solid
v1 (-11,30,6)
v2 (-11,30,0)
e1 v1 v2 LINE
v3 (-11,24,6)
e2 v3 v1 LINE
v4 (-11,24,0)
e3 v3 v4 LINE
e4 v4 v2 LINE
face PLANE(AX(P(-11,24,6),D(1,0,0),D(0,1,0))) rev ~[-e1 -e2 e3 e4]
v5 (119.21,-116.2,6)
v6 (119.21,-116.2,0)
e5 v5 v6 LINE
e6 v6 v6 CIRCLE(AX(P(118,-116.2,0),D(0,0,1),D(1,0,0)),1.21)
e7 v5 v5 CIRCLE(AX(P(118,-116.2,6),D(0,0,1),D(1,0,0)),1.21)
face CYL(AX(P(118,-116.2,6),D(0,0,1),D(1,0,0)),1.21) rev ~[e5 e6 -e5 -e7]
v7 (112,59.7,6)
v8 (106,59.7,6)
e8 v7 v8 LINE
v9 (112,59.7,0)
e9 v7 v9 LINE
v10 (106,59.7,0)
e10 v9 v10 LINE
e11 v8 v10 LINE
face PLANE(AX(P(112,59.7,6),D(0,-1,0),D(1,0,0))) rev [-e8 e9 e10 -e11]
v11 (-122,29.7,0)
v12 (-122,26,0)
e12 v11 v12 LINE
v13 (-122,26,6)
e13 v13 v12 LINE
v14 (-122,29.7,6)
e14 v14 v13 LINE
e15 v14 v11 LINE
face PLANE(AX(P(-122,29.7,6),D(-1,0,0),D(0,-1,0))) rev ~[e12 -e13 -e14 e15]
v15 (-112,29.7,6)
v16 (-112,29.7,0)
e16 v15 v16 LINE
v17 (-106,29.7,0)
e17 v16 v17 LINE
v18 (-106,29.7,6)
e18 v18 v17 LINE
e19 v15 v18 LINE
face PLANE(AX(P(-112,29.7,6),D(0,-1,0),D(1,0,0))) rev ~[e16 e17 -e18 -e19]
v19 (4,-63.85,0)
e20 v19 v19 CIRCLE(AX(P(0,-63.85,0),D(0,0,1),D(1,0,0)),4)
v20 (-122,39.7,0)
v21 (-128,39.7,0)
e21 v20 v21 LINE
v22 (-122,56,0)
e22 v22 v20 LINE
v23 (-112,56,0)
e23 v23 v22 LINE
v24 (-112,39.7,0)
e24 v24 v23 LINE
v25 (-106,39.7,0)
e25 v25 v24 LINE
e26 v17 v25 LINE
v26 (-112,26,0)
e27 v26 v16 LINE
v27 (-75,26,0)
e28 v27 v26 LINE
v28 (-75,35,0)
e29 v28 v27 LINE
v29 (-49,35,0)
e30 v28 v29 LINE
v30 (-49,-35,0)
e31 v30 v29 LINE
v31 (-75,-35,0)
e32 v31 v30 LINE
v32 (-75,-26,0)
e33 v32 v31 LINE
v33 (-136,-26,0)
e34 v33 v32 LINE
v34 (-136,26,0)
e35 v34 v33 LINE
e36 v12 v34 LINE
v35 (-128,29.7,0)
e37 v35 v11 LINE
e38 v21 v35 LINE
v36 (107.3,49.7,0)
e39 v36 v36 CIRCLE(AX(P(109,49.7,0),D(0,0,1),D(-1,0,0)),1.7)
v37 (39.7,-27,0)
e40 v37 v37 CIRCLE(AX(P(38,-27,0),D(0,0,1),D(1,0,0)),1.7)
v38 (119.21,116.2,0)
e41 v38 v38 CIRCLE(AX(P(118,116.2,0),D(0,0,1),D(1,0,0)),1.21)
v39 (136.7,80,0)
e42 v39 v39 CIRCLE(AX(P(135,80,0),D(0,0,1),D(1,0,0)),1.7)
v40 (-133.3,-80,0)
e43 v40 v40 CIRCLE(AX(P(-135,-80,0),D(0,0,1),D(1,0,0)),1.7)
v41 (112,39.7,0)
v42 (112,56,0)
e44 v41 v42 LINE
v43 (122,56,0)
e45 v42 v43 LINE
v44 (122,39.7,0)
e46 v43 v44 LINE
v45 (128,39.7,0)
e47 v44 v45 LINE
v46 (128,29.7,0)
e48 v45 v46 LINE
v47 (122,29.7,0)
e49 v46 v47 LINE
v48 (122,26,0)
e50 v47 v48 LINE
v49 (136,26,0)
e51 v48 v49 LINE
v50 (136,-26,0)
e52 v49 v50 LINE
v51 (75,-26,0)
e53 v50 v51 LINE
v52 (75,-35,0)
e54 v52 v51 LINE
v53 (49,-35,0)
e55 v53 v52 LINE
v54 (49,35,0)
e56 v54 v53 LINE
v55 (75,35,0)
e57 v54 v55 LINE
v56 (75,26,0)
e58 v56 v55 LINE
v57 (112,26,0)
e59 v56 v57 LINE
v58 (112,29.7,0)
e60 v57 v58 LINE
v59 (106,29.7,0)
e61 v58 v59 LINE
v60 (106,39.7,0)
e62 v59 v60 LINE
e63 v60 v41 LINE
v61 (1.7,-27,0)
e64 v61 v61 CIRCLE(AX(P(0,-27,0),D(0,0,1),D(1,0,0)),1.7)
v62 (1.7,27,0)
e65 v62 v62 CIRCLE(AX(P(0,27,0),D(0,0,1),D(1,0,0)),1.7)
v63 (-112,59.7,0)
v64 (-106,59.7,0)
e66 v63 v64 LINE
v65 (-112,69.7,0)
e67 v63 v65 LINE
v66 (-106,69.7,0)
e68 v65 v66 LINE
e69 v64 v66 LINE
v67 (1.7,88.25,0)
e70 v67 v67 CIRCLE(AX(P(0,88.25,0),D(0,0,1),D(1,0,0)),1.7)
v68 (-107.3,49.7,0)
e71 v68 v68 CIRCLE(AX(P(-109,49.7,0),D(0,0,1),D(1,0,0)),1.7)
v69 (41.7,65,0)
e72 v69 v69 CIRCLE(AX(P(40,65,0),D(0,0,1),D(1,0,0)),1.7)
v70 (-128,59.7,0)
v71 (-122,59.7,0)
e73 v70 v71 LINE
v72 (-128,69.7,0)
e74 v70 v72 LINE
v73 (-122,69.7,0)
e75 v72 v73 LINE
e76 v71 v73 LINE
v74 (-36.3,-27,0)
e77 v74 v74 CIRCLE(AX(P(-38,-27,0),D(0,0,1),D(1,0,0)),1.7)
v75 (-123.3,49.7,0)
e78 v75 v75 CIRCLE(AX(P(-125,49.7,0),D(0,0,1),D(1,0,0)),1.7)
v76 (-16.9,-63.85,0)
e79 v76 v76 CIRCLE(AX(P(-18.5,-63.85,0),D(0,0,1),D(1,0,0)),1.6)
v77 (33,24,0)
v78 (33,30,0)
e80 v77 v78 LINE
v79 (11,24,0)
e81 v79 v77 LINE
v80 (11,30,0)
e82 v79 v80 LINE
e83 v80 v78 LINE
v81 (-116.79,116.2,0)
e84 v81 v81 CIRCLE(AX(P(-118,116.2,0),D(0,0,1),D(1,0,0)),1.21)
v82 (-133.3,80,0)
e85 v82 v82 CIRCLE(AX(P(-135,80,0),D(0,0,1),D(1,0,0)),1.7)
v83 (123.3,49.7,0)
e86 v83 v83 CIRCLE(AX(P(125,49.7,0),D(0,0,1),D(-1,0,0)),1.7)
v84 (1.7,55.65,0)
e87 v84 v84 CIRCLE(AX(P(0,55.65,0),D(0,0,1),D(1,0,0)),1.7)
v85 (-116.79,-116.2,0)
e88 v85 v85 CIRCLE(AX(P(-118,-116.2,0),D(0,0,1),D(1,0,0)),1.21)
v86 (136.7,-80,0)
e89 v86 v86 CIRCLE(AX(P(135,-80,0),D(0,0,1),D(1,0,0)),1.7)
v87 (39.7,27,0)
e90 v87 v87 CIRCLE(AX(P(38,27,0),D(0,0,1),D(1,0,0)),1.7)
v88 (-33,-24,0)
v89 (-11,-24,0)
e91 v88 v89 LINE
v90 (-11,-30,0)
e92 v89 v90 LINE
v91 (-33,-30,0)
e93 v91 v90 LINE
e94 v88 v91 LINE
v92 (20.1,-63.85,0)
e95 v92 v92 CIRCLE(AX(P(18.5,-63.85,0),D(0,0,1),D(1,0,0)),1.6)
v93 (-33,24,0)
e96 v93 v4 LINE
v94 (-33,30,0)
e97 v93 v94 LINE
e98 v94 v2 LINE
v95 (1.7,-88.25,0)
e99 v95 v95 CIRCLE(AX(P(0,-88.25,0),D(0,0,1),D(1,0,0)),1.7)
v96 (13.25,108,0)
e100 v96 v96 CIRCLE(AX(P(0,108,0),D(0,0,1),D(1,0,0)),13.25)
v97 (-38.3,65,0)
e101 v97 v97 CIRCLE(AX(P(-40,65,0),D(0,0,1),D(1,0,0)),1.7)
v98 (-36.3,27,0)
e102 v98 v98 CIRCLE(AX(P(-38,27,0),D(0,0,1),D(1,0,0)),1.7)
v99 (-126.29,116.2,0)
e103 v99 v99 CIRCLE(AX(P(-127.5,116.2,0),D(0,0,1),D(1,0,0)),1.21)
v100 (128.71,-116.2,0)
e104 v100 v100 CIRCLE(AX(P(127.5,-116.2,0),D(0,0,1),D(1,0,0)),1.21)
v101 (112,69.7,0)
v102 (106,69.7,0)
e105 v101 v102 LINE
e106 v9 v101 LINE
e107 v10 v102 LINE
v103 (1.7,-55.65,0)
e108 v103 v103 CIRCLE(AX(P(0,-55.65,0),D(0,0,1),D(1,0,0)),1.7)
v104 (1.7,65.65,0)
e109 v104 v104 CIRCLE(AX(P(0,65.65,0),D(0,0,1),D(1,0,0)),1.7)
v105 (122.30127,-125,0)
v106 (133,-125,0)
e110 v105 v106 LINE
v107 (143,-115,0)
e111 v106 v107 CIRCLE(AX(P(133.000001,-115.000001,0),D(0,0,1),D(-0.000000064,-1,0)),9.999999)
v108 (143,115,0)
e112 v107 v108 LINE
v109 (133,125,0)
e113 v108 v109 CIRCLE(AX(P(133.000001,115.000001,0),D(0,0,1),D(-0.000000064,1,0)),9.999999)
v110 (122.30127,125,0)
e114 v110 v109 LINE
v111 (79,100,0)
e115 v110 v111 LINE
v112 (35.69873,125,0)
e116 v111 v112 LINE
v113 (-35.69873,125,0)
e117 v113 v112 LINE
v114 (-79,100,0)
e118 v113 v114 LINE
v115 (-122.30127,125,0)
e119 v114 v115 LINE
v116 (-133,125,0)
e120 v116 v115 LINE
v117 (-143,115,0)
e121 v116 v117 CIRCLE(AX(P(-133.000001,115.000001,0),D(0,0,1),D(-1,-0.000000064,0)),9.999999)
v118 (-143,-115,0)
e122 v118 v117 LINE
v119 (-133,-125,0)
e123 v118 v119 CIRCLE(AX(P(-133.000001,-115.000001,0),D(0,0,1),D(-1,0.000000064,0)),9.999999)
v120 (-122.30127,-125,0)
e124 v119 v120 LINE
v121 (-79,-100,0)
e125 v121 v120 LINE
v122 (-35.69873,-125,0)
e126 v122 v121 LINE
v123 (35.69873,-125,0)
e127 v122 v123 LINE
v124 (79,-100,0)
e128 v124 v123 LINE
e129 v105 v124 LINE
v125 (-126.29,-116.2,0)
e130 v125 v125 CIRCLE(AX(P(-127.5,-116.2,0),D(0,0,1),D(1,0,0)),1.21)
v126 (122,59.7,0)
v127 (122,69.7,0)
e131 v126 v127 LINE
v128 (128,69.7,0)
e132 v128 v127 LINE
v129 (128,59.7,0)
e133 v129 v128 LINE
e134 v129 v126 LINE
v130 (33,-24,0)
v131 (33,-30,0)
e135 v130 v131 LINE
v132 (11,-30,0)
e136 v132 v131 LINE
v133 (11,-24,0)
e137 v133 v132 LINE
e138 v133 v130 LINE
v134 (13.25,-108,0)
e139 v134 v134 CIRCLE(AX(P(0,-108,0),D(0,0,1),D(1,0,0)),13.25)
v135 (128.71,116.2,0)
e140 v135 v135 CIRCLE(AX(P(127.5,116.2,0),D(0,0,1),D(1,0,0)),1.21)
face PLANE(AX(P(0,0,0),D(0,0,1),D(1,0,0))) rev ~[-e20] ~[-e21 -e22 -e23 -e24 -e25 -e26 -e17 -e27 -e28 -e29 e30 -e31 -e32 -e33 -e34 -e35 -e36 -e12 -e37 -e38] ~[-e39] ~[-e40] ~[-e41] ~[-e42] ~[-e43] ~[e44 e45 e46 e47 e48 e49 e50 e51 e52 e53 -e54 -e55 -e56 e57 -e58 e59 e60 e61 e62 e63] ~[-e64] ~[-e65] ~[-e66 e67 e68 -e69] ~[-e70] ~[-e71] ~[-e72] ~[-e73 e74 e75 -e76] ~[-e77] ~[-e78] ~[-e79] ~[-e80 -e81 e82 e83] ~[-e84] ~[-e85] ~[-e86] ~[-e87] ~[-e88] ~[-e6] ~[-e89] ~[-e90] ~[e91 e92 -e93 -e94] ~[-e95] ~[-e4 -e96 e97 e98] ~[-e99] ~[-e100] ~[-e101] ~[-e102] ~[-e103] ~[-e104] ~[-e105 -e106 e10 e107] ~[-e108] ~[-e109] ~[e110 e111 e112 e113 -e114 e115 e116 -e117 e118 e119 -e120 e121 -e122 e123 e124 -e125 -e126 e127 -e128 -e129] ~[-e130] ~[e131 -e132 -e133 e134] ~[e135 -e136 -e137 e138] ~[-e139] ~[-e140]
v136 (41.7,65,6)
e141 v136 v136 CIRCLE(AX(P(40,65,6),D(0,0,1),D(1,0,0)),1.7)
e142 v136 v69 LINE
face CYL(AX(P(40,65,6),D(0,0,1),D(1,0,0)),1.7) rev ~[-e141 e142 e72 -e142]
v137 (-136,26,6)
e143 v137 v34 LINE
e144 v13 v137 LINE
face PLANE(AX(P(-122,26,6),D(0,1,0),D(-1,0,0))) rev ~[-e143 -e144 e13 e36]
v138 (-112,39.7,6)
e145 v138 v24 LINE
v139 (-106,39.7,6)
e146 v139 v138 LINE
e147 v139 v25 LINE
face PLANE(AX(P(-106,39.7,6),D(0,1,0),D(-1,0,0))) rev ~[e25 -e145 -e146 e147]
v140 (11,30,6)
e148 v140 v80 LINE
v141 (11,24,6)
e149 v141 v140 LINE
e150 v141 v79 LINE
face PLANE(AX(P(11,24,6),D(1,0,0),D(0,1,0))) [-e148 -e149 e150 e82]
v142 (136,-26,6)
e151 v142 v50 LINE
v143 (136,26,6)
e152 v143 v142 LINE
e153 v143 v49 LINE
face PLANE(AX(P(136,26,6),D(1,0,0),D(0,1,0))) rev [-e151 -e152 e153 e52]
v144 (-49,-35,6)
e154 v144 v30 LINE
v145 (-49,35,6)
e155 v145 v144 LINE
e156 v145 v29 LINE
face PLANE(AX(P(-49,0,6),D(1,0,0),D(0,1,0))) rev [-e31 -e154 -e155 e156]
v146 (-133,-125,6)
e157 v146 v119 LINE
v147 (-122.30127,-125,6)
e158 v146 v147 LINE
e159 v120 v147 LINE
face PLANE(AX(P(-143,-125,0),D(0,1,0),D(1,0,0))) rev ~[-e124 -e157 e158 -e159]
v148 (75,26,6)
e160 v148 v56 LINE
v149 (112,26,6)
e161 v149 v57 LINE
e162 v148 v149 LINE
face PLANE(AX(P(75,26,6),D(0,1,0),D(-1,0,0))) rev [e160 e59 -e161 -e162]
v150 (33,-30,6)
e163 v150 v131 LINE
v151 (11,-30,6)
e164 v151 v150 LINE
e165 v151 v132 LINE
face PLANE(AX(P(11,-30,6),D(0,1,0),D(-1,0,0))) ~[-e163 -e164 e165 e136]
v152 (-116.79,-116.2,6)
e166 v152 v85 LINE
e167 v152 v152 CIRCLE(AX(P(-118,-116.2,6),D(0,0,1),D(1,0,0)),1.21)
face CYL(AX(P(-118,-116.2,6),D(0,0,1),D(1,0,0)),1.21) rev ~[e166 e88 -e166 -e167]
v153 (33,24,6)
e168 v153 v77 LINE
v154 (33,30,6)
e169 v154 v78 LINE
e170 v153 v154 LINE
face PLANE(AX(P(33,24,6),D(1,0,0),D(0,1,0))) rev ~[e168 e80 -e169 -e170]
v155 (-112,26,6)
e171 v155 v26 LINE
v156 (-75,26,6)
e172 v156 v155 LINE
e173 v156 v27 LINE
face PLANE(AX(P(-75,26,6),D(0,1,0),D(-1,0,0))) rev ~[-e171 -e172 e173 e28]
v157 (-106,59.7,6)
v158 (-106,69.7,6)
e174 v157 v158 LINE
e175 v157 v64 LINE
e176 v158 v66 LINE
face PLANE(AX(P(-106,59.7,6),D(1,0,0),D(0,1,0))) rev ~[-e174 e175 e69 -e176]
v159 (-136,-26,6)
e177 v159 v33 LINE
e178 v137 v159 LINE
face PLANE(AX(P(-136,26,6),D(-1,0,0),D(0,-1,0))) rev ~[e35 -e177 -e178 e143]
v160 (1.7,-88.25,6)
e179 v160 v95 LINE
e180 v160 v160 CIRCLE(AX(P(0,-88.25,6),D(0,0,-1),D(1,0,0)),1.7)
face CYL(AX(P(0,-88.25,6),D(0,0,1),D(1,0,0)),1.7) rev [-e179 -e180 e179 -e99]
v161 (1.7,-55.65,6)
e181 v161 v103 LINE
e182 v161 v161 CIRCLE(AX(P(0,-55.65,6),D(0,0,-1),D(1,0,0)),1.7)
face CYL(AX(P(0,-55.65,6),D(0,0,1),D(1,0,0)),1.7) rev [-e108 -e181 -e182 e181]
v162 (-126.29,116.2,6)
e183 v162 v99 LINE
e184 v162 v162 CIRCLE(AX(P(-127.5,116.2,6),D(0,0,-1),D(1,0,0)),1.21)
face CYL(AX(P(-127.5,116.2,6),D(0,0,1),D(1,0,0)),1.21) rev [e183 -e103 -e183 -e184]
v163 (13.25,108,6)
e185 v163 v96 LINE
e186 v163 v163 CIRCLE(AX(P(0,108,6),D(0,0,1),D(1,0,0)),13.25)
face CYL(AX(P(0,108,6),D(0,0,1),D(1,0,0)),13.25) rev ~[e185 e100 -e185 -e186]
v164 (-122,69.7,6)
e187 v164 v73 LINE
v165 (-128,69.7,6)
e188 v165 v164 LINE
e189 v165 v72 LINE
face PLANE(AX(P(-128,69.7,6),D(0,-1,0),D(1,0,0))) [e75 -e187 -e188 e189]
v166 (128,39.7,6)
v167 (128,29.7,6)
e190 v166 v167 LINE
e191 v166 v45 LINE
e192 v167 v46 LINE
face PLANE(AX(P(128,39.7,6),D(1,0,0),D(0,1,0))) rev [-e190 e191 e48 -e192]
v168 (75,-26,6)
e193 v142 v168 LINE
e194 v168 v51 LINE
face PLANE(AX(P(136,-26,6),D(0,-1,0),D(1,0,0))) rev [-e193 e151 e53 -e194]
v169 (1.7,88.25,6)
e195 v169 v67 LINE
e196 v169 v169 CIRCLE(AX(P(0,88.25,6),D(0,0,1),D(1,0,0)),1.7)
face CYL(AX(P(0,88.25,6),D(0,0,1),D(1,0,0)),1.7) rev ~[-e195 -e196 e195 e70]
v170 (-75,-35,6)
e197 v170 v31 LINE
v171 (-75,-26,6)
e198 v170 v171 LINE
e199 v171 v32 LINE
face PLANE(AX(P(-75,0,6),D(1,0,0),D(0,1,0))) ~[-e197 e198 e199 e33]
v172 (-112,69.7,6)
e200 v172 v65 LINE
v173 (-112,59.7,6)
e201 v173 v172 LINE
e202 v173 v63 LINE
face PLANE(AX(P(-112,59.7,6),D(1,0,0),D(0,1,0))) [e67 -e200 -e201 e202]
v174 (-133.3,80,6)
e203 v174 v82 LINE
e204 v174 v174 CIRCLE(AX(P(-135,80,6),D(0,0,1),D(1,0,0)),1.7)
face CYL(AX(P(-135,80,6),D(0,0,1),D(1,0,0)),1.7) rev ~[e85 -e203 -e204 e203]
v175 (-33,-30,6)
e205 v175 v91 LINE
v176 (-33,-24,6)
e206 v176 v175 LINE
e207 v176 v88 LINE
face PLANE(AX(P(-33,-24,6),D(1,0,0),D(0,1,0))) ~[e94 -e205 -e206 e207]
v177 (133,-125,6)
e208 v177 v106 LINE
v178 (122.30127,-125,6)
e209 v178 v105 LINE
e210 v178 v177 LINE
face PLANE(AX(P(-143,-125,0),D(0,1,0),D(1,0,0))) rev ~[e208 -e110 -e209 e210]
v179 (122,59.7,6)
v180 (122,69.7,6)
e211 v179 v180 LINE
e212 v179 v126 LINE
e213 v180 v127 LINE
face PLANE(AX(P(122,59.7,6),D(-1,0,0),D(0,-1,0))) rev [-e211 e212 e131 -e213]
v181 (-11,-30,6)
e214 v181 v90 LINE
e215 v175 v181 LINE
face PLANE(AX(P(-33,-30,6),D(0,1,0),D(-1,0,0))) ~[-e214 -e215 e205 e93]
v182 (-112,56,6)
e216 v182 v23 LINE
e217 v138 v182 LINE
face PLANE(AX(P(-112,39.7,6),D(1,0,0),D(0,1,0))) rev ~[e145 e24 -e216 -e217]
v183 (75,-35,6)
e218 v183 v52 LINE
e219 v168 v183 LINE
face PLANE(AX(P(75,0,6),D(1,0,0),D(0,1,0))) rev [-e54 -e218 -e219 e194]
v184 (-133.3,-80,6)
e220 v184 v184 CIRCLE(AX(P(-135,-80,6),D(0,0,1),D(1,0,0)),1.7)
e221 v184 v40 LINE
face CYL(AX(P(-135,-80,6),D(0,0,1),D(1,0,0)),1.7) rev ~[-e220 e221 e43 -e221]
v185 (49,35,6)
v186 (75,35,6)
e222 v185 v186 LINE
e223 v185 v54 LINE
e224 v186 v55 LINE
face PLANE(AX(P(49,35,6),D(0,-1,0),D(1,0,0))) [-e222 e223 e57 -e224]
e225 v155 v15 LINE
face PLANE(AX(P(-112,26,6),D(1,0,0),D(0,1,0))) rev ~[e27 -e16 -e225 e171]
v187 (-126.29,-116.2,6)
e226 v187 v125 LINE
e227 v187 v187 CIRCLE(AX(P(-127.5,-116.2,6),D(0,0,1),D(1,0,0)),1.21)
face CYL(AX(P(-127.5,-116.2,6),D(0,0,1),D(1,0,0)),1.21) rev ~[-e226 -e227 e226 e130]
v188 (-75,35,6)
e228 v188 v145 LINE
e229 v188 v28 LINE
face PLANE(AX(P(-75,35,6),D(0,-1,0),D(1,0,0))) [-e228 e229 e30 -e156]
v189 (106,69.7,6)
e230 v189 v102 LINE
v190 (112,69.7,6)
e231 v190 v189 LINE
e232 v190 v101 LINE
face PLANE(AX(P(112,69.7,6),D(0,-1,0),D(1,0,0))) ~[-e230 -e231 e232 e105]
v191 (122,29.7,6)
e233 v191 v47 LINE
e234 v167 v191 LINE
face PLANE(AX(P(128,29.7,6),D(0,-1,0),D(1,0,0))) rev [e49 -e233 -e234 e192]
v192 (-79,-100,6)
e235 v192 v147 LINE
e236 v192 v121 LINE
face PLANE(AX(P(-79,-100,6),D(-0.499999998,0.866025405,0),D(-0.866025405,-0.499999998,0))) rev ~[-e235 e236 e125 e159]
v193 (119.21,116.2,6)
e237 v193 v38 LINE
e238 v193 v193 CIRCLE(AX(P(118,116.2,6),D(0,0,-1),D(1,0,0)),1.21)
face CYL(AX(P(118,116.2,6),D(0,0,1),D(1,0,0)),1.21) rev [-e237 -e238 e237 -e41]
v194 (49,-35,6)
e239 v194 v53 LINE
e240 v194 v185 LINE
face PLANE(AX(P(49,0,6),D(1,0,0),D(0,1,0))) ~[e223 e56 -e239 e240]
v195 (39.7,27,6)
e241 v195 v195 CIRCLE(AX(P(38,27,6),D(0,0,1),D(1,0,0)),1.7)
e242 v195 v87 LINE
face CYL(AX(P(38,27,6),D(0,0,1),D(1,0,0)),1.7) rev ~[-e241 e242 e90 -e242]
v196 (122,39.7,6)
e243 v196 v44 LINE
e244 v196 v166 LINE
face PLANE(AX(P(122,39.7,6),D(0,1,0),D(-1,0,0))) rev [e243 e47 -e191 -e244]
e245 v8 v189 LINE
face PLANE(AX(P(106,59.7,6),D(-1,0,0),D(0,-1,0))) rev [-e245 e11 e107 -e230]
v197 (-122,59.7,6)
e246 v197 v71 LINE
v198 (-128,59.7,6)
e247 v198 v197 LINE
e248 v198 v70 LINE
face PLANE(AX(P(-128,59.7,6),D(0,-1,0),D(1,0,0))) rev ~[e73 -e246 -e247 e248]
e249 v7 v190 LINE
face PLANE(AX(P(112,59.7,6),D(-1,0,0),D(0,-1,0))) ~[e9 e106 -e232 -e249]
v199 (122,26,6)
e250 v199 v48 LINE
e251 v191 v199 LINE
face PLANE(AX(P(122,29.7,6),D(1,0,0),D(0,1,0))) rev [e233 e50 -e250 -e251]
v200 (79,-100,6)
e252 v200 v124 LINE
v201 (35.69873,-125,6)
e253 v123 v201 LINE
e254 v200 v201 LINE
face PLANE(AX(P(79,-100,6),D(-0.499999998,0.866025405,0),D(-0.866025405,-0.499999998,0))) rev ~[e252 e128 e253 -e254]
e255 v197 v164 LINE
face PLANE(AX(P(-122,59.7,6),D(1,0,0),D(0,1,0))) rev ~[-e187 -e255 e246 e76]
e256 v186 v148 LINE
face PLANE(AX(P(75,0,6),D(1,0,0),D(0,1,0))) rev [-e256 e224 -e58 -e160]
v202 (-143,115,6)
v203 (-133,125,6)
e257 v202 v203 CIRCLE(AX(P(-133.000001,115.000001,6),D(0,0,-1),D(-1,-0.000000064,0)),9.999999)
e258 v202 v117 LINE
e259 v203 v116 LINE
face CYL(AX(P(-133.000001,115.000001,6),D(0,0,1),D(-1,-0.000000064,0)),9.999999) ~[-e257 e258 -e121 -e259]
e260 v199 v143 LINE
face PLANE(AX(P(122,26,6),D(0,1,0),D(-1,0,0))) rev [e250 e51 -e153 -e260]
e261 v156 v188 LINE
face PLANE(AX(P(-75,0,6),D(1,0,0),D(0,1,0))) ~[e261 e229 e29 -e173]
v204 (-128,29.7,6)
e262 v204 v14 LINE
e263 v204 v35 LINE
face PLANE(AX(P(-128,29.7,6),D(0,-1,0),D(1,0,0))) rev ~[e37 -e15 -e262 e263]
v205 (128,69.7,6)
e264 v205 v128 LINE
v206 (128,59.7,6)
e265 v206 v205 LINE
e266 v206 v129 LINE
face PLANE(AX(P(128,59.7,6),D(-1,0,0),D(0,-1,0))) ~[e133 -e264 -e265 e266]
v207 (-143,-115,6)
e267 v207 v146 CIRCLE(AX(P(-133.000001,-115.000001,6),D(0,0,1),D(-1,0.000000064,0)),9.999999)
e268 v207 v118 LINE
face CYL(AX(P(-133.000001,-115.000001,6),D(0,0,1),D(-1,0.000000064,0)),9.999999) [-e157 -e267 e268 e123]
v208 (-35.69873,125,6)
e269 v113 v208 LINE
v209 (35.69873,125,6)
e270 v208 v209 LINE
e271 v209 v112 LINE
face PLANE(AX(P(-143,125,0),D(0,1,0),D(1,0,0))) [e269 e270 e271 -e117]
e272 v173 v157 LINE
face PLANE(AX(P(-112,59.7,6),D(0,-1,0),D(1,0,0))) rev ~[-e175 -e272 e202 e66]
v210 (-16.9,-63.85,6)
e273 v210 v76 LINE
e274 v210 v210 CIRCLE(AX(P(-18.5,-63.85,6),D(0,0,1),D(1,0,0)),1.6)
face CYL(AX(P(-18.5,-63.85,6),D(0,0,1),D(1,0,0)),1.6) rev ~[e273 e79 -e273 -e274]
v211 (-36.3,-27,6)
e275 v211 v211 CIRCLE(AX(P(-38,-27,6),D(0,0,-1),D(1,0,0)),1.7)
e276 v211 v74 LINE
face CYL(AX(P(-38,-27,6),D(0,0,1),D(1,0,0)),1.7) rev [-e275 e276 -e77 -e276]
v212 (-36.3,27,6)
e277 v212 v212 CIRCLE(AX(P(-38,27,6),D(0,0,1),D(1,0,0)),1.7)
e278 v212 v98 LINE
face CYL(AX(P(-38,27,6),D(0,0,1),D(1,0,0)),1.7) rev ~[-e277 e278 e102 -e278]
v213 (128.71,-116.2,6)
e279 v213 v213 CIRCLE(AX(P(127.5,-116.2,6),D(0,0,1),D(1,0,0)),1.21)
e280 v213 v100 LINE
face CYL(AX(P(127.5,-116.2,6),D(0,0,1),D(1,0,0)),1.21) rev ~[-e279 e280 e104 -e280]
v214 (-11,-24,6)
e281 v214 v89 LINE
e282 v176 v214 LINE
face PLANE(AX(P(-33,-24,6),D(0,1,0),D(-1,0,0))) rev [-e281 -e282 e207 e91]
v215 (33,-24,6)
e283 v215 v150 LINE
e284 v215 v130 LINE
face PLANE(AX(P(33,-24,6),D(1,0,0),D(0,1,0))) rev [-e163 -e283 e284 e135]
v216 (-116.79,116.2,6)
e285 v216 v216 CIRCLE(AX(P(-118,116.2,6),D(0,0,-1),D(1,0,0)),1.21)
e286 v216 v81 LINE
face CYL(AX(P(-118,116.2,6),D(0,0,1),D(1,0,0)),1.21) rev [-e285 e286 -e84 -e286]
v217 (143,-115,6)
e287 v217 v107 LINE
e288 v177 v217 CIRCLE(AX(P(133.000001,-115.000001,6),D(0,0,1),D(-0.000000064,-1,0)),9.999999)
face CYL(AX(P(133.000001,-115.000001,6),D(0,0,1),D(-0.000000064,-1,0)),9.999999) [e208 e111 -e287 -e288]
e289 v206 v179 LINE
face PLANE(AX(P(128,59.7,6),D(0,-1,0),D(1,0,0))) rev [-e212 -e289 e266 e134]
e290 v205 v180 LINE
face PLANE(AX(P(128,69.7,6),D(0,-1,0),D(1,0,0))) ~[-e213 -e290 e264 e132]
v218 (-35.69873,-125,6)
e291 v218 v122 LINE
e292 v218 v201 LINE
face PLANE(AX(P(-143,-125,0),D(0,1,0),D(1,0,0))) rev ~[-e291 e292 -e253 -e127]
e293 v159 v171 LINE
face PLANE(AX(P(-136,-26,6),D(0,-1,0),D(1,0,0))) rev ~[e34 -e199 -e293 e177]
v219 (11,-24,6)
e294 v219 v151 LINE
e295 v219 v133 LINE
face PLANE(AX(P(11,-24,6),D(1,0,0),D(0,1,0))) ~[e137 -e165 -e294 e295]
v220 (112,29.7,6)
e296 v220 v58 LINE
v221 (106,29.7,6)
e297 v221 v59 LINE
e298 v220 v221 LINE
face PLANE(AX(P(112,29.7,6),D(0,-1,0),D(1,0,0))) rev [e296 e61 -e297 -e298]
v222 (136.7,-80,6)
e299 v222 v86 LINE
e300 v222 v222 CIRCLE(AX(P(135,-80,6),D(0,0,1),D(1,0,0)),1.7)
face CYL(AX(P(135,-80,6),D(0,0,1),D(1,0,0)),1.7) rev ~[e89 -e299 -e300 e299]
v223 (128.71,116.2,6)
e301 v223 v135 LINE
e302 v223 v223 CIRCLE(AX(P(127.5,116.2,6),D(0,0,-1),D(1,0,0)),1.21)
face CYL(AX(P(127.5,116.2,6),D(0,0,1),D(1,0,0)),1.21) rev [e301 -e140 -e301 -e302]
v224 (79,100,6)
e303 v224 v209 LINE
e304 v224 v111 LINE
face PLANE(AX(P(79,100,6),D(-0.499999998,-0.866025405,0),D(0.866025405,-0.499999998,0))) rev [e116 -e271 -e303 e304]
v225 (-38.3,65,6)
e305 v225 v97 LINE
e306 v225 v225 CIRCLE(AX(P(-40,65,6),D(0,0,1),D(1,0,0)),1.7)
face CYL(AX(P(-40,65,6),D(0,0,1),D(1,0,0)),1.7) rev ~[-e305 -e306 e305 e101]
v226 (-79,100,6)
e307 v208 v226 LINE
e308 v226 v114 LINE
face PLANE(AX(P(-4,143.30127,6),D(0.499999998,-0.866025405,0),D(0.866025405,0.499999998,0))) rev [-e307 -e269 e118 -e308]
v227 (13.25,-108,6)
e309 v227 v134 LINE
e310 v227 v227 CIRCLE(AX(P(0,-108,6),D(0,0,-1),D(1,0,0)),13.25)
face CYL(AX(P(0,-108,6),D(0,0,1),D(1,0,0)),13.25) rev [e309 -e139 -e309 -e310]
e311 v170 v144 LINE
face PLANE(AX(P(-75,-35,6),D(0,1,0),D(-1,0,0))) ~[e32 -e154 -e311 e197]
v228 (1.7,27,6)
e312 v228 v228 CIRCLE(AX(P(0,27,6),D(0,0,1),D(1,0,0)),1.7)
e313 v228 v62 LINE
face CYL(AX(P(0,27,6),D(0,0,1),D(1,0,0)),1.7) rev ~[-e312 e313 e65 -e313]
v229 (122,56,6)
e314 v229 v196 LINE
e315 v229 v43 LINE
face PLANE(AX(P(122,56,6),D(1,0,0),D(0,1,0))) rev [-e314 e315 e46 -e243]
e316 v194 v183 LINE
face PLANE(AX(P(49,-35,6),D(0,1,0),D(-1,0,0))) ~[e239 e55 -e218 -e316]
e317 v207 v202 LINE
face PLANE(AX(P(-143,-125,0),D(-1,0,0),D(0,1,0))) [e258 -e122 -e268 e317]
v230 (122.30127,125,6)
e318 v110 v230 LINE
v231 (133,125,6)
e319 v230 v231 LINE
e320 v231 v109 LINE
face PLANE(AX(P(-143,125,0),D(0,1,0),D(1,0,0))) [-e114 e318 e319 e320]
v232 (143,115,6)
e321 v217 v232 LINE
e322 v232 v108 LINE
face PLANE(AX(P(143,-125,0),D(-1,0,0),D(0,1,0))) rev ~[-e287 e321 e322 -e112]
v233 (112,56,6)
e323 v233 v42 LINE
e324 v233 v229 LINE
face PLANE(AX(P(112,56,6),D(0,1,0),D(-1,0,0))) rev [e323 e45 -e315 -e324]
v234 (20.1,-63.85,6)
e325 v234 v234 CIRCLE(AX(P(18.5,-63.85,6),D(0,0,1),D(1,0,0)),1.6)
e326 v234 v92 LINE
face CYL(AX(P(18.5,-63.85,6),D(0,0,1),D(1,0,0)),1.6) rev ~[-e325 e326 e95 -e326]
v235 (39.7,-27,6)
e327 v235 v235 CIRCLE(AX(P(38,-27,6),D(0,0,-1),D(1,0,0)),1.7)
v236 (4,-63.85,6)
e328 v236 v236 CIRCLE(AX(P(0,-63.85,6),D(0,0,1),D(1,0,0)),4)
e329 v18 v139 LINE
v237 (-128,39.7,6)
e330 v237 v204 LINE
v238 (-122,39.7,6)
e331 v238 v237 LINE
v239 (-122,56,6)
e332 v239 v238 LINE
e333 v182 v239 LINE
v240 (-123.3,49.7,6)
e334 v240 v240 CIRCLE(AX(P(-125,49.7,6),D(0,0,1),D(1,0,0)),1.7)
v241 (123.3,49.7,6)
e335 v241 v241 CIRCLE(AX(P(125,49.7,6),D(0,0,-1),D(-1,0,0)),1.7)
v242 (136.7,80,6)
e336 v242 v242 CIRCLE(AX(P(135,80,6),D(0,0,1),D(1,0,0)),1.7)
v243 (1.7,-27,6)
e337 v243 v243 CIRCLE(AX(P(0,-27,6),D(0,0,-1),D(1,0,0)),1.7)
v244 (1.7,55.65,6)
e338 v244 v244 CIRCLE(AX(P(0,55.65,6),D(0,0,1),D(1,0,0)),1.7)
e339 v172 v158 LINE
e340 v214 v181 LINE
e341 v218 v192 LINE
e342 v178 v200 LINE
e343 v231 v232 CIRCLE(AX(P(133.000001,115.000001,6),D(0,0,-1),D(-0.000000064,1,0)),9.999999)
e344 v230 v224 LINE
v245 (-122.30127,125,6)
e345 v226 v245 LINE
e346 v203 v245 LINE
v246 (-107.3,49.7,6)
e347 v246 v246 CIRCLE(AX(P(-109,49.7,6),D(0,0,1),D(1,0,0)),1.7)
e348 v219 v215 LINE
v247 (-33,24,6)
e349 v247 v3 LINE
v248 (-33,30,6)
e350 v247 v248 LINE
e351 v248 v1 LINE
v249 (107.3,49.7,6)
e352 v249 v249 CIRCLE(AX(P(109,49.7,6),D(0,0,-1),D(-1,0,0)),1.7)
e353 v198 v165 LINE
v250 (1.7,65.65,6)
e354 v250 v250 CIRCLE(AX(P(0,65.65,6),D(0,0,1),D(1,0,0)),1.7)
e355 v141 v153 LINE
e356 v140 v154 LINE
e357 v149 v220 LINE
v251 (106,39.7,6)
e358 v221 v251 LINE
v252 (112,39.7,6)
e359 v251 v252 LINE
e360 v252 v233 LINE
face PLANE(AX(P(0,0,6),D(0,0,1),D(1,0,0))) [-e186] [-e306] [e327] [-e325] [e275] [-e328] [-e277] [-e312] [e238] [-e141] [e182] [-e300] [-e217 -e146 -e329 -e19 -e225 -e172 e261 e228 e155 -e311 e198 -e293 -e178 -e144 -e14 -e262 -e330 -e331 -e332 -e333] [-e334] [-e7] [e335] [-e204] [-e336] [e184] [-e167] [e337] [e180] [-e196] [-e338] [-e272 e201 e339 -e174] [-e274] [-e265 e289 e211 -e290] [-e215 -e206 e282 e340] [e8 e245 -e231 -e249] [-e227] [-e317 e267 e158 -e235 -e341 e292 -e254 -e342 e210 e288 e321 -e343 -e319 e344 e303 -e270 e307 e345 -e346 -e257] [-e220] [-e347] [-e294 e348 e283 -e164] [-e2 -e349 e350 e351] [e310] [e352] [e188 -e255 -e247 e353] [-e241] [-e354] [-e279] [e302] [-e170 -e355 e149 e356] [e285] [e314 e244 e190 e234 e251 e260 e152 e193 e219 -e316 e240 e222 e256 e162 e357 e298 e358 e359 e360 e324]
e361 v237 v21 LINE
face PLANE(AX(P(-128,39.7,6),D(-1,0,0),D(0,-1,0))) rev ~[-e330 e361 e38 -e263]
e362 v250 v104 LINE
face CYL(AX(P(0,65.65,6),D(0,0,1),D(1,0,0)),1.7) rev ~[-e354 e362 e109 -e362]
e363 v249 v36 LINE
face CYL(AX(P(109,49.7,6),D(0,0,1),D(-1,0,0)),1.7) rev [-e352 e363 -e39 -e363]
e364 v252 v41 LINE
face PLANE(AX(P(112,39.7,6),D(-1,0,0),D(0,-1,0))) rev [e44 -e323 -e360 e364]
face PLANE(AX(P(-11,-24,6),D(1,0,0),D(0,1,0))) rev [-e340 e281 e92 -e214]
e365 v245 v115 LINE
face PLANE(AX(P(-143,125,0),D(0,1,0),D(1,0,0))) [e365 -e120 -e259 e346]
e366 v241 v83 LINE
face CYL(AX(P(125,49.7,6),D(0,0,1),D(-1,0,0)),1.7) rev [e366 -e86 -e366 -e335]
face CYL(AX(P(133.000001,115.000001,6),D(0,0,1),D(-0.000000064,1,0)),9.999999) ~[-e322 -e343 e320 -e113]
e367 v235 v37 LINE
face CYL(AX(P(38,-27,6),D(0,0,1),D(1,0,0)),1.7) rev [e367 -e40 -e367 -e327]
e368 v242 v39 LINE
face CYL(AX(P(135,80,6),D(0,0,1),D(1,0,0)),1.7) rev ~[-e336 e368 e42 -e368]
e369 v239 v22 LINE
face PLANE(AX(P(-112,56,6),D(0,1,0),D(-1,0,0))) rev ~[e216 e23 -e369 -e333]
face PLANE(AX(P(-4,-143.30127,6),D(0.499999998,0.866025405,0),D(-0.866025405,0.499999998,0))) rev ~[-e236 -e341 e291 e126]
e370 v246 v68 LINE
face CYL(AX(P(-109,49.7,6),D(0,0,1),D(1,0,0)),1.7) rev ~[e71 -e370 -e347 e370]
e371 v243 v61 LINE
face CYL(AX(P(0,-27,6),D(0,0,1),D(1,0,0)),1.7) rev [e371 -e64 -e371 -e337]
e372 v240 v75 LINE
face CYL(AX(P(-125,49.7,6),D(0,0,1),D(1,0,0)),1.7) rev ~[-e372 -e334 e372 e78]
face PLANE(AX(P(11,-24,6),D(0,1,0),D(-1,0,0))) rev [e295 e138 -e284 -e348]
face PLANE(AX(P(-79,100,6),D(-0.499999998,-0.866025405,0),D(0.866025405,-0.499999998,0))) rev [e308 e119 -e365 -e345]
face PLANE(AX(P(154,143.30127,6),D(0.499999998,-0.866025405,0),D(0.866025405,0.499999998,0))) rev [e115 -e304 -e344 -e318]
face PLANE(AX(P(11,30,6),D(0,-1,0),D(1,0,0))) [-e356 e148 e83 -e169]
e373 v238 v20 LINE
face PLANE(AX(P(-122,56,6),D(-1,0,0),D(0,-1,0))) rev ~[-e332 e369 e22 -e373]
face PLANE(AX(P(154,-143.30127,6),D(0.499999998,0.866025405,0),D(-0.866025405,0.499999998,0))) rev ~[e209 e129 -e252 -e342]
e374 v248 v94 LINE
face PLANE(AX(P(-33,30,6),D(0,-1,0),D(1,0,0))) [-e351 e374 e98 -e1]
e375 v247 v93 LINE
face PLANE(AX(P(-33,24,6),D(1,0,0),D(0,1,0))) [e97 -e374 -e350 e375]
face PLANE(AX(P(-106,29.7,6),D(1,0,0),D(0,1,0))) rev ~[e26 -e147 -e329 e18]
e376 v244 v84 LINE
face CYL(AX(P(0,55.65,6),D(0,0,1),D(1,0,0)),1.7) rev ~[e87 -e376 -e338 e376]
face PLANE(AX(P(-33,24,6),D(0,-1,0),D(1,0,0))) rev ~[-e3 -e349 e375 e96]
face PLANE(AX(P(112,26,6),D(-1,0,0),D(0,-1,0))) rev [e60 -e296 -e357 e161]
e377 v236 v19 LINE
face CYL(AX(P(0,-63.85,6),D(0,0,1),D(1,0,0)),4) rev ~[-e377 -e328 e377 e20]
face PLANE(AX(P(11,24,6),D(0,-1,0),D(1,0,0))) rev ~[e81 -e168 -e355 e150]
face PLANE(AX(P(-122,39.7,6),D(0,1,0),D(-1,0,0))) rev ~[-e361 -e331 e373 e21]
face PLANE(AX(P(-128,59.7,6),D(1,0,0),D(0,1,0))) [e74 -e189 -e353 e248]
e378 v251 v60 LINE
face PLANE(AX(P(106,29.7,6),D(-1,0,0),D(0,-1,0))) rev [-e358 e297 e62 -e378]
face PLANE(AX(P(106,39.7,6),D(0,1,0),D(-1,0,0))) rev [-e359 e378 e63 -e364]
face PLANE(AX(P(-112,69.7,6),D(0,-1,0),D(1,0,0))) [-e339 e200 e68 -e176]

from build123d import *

# Parameters (mm, degrees)
SKETCH_W        = 286
SKETCH_H        = 250
PAD_DEPTH       = 6
SKETCH001_R     = 1.7
SKETCH001_W     = 22
SKETCH001_H     = 6
SKETCH001_W_2   = 26
SKETCH001_H_2   = 35
POCKET_DEPTH    = 765.822032
SKETCH002_R     = 1.7
SKETCH002_W     = 6
SKETCH002_H     = 10
POCKET001_DEPTH = 765.822032
SKETCH003_R     = 1.7
POCKET002_DEPTH = 6.001
SKETCH004_R     = 13.25
SKETCH004_R_2   = 1.7
POCKET003_DEPTH = 765.822032
SKETCH005_R     = 1.7
POCKET004_DEPTH = 6.001
POCKET005_DEPTH = 765.822032
SKETCH007_R     = 1.21
HOLE_DEPTH      = 765.822032
POCKET006_DEPTH = 765.822032
SKETCH009_R     = 4
SKETCH009_R_2   = 1.6
POCKET007_DEPTH = 6.001


with BuildPart() as part:
    # Sketch → Pad (new body)
    with BuildSketch(Plane.XY):
        Rectangle(SKETCH_W, SKETCH_H)
    extrude(amount=PAD_DEPTH)

    # Sketch001 (on Face6 of Pad) → Pocket (cut, through all)
    with BuildSketch(Plane.XY.offset(6)):
        with Locations((-38, 27)):
            Circle(SKETCH001_R)
        with Locations((0, 27)):
            Circle(SKETCH001_R)
        with Locations((38, 27)):
            Circle(SKETCH001_R)
        with Locations((-22, 27)):
            Rectangle(SKETCH001_W, SKETCH001_H)
        with Locations((22, 27)):
            Rectangle(SKETCH001_W, SKETCH001_H)
        with Locations((-62, 17.5)):
            Rectangle(SKETCH001_W_2, SKETCH001_H_2)
        with Locations((62, 17.5)):
            Rectangle(SKETCH001_W_2, SKETCH001_H_2)
    pocket = extrude(amount=-POCKET_DEPTH, mode=Mode.SUBTRACT)

    # Mirrored: Pocket across Sketch001 H_Axis
    add(pocket.mirror(Plane(origin=(0, 0, 6), x_dir=(0, 0, 1), z_dir=(0, 1, 0))), mode=Mode.SUBTRACT)

    # Sketch002 (on Face5 of Mirrored) → Pocket001 (cut, through all)
    with BuildSketch(Plane.XY.offset(6)):
        with Locations((-125, 49.7)):
            Circle(SKETCH002_R)
        with Locations((-109, 49.7)):
            Circle(SKETCH002_R)
        Polygon((-136, 26), (-136, -26), (-75, -26), (-75, 26), (-112, 26), (-112, 29.7), (-106, 29.7), (-106, 39.7), (-112, 39.7), (-112, 56), (-122, 56), (-122, 39.7), (-128, 39.7), (-128, 29.7), (-122, 29.7), (-122, 26), align=None)
        with Locations((-125, 64.7)):
            Rectangle(SKETCH002_W, SKETCH002_H)
        with Locations((-109, 64.7)):
            Rectangle(SKETCH002_W, SKETCH002_H)
    pocket001 = extrude(amount=-POCKET001_DEPTH, mode=Mode.SUBTRACT)

    # Mirrored001: Pocket001 across Sketch002 V_Axis
    add(pocket001.mirror(Plane(origin=(0, 0, 6), x_dir=(0, 0, 1), z_dir=(1, 0, 0))), mode=Mode.SUBTRACT)

    # Sketch003 (on Face5 of Mirrored001) → Pocket002 (cut, through all)
    with BuildSketch(Plane.XY.offset(6)):
        with Locations((-40, 65)):
            Circle(SKETCH003_R)
        with Locations((40, 65)):
            Circle(SKETCH003_R)
    extrude(amount=-POCKET002_DEPTH, mode=Mode.SUBTRACT)

    # Sketch004 → Pocket003 (cut, through all)
    with BuildSketch(Plane.XY.offset(6)):
        with Locations((0, 108)):
            Circle(SKETCH004_R)
        with Locations((0, 88.25)):
            Circle(SKETCH004_R_2)
        with Locations((0, 55.65)):
            Circle(SKETCH004_R_2)
        with Locations((0, 65.65)):
            Circle(SKETCH004_R_2)
    pocket003 = extrude(amount=-POCKET003_DEPTH, mode=Mode.SUBTRACT)

    # Sketch005 → Pocket004 (cut, through all)
    with BuildSketch(Plane.XY.offset(6)):
        with Locations((135, 80)):
            Circle(SKETCH005_R)
        with Locations((-135, 80)):
            Circle(SKETCH005_R)
        with Locations((-135, -80)):
            Circle(SKETCH005_R)
        with Locations((135, -80)):
            Circle(SKETCH005_R)
    extrude(amount=-POCKET004_DEPTH, mode=Mode.SUBTRACT)

    # Sketch006 (on Face5 of Pocket004) → Pocket005 (cut, through all)
    with BuildSketch(Plane.XY.offset(6)):
        with BuildLine():
            Line((-143, -115), (-143, -125))
            Line((-143, -125), (-133, -125))
            ThreePointArc((-143, -115), (-140.071068, -122.071068), (-133, -125))
        make_face()
        with BuildLine():
            Line((143, -115), (143, -125))
            Line((143, -125), (133, -125))
            ThreePointArc((133, -125), (140.071068, -122.071068), (143, -115))
        make_face()
    pocket005 = extrude(amount=-POCKET005_DEPTH, mode=Mode.SUBTRACT)

    # Mirrored004: Pocket005 across Sketch006 H_Axis
    add(pocket005.mirror(Plane(origin=(0, 0, 6), x_dir=(0, 0, 1), z_dir=(0, 1, 0))), mode=Mode.SUBTRACT)

    # Sketch007 (on Face4 of Mirrored004) → Hole (cut, through all)
    with BuildSketch(Plane.XY.offset(6)):
        with Locations((-127.5, -116.2)):
            Circle(SKETCH007_R)
        with Locations((-118, -116.2)):
            Circle(SKETCH007_R)
        with Locations((127.5, -116.2)):
            Circle(SKETCH007_R)
        with Locations((118, -116.2)):
            Circle(SKETCH007_R)
    hole = extrude(amount=-HOLE_DEPTH, mode=Mode.SUBTRACT)

    # Mirrored005: Hole across Sketch007 H_Axis
    add(hole.mirror(Plane(origin=(0, 0, 6), x_dir=(0, 0, 1), z_dir=(0, 1, 0))), mode=Mode.SUBTRACT)

    # Sketch008 (on Face4 of Mirrored005) → Pocket006 (cut, through all)
    with BuildSketch(Plane.XY.offset(6)):
        Polygon((-4, -143.30127), (-79, -100), (-154, -143.30127), (-154, -229.903811), (-79, -273.205081), (-4, -229.903811), align=None)
        Polygon((4, -143.30127), (4, -229.903811), (79, -273.205081), (154, -229.903811), (154, -143.30127), (79, -100), align=None)
    pocket006 = extrude(amount=-POCKET006_DEPTH, mode=Mode.SUBTRACT)

    # Mirrored006: Pocket006 across Sketch008 H_Axis
    add(pocket006.mirror(Plane(origin=(0, 0, 6), x_dir=(0, 0, 1), z_dir=(0, 1, 0))), mode=Mode.SUBTRACT)

    # Sketch009 (on Face4 of Mirrored006) → Pocket007 (cut, through all)
    with BuildSketch(Plane.XY.offset(6)):
        with Locations((0, -63.85)):
            Circle(SKETCH009_R)
        with Locations((-18.5, -63.85)):
            Circle(SKETCH009_R_2)
        with Locations((18.5, -63.85)):
            Circle(SKETCH009_R_2)
    extrude(amount=-POCKET007_DEPTH, mode=Mode.SUBTRACT)

    # Mirrored007: Pocket003 across Sketch004 H_Axis
    add(pocket003.mirror(Plane(origin=(0, 0, 6), x_dir=(0, 0, 1), z_dir=(0, 1, 0))), mode=Mode.SUBTRACT)


solid = part.part
